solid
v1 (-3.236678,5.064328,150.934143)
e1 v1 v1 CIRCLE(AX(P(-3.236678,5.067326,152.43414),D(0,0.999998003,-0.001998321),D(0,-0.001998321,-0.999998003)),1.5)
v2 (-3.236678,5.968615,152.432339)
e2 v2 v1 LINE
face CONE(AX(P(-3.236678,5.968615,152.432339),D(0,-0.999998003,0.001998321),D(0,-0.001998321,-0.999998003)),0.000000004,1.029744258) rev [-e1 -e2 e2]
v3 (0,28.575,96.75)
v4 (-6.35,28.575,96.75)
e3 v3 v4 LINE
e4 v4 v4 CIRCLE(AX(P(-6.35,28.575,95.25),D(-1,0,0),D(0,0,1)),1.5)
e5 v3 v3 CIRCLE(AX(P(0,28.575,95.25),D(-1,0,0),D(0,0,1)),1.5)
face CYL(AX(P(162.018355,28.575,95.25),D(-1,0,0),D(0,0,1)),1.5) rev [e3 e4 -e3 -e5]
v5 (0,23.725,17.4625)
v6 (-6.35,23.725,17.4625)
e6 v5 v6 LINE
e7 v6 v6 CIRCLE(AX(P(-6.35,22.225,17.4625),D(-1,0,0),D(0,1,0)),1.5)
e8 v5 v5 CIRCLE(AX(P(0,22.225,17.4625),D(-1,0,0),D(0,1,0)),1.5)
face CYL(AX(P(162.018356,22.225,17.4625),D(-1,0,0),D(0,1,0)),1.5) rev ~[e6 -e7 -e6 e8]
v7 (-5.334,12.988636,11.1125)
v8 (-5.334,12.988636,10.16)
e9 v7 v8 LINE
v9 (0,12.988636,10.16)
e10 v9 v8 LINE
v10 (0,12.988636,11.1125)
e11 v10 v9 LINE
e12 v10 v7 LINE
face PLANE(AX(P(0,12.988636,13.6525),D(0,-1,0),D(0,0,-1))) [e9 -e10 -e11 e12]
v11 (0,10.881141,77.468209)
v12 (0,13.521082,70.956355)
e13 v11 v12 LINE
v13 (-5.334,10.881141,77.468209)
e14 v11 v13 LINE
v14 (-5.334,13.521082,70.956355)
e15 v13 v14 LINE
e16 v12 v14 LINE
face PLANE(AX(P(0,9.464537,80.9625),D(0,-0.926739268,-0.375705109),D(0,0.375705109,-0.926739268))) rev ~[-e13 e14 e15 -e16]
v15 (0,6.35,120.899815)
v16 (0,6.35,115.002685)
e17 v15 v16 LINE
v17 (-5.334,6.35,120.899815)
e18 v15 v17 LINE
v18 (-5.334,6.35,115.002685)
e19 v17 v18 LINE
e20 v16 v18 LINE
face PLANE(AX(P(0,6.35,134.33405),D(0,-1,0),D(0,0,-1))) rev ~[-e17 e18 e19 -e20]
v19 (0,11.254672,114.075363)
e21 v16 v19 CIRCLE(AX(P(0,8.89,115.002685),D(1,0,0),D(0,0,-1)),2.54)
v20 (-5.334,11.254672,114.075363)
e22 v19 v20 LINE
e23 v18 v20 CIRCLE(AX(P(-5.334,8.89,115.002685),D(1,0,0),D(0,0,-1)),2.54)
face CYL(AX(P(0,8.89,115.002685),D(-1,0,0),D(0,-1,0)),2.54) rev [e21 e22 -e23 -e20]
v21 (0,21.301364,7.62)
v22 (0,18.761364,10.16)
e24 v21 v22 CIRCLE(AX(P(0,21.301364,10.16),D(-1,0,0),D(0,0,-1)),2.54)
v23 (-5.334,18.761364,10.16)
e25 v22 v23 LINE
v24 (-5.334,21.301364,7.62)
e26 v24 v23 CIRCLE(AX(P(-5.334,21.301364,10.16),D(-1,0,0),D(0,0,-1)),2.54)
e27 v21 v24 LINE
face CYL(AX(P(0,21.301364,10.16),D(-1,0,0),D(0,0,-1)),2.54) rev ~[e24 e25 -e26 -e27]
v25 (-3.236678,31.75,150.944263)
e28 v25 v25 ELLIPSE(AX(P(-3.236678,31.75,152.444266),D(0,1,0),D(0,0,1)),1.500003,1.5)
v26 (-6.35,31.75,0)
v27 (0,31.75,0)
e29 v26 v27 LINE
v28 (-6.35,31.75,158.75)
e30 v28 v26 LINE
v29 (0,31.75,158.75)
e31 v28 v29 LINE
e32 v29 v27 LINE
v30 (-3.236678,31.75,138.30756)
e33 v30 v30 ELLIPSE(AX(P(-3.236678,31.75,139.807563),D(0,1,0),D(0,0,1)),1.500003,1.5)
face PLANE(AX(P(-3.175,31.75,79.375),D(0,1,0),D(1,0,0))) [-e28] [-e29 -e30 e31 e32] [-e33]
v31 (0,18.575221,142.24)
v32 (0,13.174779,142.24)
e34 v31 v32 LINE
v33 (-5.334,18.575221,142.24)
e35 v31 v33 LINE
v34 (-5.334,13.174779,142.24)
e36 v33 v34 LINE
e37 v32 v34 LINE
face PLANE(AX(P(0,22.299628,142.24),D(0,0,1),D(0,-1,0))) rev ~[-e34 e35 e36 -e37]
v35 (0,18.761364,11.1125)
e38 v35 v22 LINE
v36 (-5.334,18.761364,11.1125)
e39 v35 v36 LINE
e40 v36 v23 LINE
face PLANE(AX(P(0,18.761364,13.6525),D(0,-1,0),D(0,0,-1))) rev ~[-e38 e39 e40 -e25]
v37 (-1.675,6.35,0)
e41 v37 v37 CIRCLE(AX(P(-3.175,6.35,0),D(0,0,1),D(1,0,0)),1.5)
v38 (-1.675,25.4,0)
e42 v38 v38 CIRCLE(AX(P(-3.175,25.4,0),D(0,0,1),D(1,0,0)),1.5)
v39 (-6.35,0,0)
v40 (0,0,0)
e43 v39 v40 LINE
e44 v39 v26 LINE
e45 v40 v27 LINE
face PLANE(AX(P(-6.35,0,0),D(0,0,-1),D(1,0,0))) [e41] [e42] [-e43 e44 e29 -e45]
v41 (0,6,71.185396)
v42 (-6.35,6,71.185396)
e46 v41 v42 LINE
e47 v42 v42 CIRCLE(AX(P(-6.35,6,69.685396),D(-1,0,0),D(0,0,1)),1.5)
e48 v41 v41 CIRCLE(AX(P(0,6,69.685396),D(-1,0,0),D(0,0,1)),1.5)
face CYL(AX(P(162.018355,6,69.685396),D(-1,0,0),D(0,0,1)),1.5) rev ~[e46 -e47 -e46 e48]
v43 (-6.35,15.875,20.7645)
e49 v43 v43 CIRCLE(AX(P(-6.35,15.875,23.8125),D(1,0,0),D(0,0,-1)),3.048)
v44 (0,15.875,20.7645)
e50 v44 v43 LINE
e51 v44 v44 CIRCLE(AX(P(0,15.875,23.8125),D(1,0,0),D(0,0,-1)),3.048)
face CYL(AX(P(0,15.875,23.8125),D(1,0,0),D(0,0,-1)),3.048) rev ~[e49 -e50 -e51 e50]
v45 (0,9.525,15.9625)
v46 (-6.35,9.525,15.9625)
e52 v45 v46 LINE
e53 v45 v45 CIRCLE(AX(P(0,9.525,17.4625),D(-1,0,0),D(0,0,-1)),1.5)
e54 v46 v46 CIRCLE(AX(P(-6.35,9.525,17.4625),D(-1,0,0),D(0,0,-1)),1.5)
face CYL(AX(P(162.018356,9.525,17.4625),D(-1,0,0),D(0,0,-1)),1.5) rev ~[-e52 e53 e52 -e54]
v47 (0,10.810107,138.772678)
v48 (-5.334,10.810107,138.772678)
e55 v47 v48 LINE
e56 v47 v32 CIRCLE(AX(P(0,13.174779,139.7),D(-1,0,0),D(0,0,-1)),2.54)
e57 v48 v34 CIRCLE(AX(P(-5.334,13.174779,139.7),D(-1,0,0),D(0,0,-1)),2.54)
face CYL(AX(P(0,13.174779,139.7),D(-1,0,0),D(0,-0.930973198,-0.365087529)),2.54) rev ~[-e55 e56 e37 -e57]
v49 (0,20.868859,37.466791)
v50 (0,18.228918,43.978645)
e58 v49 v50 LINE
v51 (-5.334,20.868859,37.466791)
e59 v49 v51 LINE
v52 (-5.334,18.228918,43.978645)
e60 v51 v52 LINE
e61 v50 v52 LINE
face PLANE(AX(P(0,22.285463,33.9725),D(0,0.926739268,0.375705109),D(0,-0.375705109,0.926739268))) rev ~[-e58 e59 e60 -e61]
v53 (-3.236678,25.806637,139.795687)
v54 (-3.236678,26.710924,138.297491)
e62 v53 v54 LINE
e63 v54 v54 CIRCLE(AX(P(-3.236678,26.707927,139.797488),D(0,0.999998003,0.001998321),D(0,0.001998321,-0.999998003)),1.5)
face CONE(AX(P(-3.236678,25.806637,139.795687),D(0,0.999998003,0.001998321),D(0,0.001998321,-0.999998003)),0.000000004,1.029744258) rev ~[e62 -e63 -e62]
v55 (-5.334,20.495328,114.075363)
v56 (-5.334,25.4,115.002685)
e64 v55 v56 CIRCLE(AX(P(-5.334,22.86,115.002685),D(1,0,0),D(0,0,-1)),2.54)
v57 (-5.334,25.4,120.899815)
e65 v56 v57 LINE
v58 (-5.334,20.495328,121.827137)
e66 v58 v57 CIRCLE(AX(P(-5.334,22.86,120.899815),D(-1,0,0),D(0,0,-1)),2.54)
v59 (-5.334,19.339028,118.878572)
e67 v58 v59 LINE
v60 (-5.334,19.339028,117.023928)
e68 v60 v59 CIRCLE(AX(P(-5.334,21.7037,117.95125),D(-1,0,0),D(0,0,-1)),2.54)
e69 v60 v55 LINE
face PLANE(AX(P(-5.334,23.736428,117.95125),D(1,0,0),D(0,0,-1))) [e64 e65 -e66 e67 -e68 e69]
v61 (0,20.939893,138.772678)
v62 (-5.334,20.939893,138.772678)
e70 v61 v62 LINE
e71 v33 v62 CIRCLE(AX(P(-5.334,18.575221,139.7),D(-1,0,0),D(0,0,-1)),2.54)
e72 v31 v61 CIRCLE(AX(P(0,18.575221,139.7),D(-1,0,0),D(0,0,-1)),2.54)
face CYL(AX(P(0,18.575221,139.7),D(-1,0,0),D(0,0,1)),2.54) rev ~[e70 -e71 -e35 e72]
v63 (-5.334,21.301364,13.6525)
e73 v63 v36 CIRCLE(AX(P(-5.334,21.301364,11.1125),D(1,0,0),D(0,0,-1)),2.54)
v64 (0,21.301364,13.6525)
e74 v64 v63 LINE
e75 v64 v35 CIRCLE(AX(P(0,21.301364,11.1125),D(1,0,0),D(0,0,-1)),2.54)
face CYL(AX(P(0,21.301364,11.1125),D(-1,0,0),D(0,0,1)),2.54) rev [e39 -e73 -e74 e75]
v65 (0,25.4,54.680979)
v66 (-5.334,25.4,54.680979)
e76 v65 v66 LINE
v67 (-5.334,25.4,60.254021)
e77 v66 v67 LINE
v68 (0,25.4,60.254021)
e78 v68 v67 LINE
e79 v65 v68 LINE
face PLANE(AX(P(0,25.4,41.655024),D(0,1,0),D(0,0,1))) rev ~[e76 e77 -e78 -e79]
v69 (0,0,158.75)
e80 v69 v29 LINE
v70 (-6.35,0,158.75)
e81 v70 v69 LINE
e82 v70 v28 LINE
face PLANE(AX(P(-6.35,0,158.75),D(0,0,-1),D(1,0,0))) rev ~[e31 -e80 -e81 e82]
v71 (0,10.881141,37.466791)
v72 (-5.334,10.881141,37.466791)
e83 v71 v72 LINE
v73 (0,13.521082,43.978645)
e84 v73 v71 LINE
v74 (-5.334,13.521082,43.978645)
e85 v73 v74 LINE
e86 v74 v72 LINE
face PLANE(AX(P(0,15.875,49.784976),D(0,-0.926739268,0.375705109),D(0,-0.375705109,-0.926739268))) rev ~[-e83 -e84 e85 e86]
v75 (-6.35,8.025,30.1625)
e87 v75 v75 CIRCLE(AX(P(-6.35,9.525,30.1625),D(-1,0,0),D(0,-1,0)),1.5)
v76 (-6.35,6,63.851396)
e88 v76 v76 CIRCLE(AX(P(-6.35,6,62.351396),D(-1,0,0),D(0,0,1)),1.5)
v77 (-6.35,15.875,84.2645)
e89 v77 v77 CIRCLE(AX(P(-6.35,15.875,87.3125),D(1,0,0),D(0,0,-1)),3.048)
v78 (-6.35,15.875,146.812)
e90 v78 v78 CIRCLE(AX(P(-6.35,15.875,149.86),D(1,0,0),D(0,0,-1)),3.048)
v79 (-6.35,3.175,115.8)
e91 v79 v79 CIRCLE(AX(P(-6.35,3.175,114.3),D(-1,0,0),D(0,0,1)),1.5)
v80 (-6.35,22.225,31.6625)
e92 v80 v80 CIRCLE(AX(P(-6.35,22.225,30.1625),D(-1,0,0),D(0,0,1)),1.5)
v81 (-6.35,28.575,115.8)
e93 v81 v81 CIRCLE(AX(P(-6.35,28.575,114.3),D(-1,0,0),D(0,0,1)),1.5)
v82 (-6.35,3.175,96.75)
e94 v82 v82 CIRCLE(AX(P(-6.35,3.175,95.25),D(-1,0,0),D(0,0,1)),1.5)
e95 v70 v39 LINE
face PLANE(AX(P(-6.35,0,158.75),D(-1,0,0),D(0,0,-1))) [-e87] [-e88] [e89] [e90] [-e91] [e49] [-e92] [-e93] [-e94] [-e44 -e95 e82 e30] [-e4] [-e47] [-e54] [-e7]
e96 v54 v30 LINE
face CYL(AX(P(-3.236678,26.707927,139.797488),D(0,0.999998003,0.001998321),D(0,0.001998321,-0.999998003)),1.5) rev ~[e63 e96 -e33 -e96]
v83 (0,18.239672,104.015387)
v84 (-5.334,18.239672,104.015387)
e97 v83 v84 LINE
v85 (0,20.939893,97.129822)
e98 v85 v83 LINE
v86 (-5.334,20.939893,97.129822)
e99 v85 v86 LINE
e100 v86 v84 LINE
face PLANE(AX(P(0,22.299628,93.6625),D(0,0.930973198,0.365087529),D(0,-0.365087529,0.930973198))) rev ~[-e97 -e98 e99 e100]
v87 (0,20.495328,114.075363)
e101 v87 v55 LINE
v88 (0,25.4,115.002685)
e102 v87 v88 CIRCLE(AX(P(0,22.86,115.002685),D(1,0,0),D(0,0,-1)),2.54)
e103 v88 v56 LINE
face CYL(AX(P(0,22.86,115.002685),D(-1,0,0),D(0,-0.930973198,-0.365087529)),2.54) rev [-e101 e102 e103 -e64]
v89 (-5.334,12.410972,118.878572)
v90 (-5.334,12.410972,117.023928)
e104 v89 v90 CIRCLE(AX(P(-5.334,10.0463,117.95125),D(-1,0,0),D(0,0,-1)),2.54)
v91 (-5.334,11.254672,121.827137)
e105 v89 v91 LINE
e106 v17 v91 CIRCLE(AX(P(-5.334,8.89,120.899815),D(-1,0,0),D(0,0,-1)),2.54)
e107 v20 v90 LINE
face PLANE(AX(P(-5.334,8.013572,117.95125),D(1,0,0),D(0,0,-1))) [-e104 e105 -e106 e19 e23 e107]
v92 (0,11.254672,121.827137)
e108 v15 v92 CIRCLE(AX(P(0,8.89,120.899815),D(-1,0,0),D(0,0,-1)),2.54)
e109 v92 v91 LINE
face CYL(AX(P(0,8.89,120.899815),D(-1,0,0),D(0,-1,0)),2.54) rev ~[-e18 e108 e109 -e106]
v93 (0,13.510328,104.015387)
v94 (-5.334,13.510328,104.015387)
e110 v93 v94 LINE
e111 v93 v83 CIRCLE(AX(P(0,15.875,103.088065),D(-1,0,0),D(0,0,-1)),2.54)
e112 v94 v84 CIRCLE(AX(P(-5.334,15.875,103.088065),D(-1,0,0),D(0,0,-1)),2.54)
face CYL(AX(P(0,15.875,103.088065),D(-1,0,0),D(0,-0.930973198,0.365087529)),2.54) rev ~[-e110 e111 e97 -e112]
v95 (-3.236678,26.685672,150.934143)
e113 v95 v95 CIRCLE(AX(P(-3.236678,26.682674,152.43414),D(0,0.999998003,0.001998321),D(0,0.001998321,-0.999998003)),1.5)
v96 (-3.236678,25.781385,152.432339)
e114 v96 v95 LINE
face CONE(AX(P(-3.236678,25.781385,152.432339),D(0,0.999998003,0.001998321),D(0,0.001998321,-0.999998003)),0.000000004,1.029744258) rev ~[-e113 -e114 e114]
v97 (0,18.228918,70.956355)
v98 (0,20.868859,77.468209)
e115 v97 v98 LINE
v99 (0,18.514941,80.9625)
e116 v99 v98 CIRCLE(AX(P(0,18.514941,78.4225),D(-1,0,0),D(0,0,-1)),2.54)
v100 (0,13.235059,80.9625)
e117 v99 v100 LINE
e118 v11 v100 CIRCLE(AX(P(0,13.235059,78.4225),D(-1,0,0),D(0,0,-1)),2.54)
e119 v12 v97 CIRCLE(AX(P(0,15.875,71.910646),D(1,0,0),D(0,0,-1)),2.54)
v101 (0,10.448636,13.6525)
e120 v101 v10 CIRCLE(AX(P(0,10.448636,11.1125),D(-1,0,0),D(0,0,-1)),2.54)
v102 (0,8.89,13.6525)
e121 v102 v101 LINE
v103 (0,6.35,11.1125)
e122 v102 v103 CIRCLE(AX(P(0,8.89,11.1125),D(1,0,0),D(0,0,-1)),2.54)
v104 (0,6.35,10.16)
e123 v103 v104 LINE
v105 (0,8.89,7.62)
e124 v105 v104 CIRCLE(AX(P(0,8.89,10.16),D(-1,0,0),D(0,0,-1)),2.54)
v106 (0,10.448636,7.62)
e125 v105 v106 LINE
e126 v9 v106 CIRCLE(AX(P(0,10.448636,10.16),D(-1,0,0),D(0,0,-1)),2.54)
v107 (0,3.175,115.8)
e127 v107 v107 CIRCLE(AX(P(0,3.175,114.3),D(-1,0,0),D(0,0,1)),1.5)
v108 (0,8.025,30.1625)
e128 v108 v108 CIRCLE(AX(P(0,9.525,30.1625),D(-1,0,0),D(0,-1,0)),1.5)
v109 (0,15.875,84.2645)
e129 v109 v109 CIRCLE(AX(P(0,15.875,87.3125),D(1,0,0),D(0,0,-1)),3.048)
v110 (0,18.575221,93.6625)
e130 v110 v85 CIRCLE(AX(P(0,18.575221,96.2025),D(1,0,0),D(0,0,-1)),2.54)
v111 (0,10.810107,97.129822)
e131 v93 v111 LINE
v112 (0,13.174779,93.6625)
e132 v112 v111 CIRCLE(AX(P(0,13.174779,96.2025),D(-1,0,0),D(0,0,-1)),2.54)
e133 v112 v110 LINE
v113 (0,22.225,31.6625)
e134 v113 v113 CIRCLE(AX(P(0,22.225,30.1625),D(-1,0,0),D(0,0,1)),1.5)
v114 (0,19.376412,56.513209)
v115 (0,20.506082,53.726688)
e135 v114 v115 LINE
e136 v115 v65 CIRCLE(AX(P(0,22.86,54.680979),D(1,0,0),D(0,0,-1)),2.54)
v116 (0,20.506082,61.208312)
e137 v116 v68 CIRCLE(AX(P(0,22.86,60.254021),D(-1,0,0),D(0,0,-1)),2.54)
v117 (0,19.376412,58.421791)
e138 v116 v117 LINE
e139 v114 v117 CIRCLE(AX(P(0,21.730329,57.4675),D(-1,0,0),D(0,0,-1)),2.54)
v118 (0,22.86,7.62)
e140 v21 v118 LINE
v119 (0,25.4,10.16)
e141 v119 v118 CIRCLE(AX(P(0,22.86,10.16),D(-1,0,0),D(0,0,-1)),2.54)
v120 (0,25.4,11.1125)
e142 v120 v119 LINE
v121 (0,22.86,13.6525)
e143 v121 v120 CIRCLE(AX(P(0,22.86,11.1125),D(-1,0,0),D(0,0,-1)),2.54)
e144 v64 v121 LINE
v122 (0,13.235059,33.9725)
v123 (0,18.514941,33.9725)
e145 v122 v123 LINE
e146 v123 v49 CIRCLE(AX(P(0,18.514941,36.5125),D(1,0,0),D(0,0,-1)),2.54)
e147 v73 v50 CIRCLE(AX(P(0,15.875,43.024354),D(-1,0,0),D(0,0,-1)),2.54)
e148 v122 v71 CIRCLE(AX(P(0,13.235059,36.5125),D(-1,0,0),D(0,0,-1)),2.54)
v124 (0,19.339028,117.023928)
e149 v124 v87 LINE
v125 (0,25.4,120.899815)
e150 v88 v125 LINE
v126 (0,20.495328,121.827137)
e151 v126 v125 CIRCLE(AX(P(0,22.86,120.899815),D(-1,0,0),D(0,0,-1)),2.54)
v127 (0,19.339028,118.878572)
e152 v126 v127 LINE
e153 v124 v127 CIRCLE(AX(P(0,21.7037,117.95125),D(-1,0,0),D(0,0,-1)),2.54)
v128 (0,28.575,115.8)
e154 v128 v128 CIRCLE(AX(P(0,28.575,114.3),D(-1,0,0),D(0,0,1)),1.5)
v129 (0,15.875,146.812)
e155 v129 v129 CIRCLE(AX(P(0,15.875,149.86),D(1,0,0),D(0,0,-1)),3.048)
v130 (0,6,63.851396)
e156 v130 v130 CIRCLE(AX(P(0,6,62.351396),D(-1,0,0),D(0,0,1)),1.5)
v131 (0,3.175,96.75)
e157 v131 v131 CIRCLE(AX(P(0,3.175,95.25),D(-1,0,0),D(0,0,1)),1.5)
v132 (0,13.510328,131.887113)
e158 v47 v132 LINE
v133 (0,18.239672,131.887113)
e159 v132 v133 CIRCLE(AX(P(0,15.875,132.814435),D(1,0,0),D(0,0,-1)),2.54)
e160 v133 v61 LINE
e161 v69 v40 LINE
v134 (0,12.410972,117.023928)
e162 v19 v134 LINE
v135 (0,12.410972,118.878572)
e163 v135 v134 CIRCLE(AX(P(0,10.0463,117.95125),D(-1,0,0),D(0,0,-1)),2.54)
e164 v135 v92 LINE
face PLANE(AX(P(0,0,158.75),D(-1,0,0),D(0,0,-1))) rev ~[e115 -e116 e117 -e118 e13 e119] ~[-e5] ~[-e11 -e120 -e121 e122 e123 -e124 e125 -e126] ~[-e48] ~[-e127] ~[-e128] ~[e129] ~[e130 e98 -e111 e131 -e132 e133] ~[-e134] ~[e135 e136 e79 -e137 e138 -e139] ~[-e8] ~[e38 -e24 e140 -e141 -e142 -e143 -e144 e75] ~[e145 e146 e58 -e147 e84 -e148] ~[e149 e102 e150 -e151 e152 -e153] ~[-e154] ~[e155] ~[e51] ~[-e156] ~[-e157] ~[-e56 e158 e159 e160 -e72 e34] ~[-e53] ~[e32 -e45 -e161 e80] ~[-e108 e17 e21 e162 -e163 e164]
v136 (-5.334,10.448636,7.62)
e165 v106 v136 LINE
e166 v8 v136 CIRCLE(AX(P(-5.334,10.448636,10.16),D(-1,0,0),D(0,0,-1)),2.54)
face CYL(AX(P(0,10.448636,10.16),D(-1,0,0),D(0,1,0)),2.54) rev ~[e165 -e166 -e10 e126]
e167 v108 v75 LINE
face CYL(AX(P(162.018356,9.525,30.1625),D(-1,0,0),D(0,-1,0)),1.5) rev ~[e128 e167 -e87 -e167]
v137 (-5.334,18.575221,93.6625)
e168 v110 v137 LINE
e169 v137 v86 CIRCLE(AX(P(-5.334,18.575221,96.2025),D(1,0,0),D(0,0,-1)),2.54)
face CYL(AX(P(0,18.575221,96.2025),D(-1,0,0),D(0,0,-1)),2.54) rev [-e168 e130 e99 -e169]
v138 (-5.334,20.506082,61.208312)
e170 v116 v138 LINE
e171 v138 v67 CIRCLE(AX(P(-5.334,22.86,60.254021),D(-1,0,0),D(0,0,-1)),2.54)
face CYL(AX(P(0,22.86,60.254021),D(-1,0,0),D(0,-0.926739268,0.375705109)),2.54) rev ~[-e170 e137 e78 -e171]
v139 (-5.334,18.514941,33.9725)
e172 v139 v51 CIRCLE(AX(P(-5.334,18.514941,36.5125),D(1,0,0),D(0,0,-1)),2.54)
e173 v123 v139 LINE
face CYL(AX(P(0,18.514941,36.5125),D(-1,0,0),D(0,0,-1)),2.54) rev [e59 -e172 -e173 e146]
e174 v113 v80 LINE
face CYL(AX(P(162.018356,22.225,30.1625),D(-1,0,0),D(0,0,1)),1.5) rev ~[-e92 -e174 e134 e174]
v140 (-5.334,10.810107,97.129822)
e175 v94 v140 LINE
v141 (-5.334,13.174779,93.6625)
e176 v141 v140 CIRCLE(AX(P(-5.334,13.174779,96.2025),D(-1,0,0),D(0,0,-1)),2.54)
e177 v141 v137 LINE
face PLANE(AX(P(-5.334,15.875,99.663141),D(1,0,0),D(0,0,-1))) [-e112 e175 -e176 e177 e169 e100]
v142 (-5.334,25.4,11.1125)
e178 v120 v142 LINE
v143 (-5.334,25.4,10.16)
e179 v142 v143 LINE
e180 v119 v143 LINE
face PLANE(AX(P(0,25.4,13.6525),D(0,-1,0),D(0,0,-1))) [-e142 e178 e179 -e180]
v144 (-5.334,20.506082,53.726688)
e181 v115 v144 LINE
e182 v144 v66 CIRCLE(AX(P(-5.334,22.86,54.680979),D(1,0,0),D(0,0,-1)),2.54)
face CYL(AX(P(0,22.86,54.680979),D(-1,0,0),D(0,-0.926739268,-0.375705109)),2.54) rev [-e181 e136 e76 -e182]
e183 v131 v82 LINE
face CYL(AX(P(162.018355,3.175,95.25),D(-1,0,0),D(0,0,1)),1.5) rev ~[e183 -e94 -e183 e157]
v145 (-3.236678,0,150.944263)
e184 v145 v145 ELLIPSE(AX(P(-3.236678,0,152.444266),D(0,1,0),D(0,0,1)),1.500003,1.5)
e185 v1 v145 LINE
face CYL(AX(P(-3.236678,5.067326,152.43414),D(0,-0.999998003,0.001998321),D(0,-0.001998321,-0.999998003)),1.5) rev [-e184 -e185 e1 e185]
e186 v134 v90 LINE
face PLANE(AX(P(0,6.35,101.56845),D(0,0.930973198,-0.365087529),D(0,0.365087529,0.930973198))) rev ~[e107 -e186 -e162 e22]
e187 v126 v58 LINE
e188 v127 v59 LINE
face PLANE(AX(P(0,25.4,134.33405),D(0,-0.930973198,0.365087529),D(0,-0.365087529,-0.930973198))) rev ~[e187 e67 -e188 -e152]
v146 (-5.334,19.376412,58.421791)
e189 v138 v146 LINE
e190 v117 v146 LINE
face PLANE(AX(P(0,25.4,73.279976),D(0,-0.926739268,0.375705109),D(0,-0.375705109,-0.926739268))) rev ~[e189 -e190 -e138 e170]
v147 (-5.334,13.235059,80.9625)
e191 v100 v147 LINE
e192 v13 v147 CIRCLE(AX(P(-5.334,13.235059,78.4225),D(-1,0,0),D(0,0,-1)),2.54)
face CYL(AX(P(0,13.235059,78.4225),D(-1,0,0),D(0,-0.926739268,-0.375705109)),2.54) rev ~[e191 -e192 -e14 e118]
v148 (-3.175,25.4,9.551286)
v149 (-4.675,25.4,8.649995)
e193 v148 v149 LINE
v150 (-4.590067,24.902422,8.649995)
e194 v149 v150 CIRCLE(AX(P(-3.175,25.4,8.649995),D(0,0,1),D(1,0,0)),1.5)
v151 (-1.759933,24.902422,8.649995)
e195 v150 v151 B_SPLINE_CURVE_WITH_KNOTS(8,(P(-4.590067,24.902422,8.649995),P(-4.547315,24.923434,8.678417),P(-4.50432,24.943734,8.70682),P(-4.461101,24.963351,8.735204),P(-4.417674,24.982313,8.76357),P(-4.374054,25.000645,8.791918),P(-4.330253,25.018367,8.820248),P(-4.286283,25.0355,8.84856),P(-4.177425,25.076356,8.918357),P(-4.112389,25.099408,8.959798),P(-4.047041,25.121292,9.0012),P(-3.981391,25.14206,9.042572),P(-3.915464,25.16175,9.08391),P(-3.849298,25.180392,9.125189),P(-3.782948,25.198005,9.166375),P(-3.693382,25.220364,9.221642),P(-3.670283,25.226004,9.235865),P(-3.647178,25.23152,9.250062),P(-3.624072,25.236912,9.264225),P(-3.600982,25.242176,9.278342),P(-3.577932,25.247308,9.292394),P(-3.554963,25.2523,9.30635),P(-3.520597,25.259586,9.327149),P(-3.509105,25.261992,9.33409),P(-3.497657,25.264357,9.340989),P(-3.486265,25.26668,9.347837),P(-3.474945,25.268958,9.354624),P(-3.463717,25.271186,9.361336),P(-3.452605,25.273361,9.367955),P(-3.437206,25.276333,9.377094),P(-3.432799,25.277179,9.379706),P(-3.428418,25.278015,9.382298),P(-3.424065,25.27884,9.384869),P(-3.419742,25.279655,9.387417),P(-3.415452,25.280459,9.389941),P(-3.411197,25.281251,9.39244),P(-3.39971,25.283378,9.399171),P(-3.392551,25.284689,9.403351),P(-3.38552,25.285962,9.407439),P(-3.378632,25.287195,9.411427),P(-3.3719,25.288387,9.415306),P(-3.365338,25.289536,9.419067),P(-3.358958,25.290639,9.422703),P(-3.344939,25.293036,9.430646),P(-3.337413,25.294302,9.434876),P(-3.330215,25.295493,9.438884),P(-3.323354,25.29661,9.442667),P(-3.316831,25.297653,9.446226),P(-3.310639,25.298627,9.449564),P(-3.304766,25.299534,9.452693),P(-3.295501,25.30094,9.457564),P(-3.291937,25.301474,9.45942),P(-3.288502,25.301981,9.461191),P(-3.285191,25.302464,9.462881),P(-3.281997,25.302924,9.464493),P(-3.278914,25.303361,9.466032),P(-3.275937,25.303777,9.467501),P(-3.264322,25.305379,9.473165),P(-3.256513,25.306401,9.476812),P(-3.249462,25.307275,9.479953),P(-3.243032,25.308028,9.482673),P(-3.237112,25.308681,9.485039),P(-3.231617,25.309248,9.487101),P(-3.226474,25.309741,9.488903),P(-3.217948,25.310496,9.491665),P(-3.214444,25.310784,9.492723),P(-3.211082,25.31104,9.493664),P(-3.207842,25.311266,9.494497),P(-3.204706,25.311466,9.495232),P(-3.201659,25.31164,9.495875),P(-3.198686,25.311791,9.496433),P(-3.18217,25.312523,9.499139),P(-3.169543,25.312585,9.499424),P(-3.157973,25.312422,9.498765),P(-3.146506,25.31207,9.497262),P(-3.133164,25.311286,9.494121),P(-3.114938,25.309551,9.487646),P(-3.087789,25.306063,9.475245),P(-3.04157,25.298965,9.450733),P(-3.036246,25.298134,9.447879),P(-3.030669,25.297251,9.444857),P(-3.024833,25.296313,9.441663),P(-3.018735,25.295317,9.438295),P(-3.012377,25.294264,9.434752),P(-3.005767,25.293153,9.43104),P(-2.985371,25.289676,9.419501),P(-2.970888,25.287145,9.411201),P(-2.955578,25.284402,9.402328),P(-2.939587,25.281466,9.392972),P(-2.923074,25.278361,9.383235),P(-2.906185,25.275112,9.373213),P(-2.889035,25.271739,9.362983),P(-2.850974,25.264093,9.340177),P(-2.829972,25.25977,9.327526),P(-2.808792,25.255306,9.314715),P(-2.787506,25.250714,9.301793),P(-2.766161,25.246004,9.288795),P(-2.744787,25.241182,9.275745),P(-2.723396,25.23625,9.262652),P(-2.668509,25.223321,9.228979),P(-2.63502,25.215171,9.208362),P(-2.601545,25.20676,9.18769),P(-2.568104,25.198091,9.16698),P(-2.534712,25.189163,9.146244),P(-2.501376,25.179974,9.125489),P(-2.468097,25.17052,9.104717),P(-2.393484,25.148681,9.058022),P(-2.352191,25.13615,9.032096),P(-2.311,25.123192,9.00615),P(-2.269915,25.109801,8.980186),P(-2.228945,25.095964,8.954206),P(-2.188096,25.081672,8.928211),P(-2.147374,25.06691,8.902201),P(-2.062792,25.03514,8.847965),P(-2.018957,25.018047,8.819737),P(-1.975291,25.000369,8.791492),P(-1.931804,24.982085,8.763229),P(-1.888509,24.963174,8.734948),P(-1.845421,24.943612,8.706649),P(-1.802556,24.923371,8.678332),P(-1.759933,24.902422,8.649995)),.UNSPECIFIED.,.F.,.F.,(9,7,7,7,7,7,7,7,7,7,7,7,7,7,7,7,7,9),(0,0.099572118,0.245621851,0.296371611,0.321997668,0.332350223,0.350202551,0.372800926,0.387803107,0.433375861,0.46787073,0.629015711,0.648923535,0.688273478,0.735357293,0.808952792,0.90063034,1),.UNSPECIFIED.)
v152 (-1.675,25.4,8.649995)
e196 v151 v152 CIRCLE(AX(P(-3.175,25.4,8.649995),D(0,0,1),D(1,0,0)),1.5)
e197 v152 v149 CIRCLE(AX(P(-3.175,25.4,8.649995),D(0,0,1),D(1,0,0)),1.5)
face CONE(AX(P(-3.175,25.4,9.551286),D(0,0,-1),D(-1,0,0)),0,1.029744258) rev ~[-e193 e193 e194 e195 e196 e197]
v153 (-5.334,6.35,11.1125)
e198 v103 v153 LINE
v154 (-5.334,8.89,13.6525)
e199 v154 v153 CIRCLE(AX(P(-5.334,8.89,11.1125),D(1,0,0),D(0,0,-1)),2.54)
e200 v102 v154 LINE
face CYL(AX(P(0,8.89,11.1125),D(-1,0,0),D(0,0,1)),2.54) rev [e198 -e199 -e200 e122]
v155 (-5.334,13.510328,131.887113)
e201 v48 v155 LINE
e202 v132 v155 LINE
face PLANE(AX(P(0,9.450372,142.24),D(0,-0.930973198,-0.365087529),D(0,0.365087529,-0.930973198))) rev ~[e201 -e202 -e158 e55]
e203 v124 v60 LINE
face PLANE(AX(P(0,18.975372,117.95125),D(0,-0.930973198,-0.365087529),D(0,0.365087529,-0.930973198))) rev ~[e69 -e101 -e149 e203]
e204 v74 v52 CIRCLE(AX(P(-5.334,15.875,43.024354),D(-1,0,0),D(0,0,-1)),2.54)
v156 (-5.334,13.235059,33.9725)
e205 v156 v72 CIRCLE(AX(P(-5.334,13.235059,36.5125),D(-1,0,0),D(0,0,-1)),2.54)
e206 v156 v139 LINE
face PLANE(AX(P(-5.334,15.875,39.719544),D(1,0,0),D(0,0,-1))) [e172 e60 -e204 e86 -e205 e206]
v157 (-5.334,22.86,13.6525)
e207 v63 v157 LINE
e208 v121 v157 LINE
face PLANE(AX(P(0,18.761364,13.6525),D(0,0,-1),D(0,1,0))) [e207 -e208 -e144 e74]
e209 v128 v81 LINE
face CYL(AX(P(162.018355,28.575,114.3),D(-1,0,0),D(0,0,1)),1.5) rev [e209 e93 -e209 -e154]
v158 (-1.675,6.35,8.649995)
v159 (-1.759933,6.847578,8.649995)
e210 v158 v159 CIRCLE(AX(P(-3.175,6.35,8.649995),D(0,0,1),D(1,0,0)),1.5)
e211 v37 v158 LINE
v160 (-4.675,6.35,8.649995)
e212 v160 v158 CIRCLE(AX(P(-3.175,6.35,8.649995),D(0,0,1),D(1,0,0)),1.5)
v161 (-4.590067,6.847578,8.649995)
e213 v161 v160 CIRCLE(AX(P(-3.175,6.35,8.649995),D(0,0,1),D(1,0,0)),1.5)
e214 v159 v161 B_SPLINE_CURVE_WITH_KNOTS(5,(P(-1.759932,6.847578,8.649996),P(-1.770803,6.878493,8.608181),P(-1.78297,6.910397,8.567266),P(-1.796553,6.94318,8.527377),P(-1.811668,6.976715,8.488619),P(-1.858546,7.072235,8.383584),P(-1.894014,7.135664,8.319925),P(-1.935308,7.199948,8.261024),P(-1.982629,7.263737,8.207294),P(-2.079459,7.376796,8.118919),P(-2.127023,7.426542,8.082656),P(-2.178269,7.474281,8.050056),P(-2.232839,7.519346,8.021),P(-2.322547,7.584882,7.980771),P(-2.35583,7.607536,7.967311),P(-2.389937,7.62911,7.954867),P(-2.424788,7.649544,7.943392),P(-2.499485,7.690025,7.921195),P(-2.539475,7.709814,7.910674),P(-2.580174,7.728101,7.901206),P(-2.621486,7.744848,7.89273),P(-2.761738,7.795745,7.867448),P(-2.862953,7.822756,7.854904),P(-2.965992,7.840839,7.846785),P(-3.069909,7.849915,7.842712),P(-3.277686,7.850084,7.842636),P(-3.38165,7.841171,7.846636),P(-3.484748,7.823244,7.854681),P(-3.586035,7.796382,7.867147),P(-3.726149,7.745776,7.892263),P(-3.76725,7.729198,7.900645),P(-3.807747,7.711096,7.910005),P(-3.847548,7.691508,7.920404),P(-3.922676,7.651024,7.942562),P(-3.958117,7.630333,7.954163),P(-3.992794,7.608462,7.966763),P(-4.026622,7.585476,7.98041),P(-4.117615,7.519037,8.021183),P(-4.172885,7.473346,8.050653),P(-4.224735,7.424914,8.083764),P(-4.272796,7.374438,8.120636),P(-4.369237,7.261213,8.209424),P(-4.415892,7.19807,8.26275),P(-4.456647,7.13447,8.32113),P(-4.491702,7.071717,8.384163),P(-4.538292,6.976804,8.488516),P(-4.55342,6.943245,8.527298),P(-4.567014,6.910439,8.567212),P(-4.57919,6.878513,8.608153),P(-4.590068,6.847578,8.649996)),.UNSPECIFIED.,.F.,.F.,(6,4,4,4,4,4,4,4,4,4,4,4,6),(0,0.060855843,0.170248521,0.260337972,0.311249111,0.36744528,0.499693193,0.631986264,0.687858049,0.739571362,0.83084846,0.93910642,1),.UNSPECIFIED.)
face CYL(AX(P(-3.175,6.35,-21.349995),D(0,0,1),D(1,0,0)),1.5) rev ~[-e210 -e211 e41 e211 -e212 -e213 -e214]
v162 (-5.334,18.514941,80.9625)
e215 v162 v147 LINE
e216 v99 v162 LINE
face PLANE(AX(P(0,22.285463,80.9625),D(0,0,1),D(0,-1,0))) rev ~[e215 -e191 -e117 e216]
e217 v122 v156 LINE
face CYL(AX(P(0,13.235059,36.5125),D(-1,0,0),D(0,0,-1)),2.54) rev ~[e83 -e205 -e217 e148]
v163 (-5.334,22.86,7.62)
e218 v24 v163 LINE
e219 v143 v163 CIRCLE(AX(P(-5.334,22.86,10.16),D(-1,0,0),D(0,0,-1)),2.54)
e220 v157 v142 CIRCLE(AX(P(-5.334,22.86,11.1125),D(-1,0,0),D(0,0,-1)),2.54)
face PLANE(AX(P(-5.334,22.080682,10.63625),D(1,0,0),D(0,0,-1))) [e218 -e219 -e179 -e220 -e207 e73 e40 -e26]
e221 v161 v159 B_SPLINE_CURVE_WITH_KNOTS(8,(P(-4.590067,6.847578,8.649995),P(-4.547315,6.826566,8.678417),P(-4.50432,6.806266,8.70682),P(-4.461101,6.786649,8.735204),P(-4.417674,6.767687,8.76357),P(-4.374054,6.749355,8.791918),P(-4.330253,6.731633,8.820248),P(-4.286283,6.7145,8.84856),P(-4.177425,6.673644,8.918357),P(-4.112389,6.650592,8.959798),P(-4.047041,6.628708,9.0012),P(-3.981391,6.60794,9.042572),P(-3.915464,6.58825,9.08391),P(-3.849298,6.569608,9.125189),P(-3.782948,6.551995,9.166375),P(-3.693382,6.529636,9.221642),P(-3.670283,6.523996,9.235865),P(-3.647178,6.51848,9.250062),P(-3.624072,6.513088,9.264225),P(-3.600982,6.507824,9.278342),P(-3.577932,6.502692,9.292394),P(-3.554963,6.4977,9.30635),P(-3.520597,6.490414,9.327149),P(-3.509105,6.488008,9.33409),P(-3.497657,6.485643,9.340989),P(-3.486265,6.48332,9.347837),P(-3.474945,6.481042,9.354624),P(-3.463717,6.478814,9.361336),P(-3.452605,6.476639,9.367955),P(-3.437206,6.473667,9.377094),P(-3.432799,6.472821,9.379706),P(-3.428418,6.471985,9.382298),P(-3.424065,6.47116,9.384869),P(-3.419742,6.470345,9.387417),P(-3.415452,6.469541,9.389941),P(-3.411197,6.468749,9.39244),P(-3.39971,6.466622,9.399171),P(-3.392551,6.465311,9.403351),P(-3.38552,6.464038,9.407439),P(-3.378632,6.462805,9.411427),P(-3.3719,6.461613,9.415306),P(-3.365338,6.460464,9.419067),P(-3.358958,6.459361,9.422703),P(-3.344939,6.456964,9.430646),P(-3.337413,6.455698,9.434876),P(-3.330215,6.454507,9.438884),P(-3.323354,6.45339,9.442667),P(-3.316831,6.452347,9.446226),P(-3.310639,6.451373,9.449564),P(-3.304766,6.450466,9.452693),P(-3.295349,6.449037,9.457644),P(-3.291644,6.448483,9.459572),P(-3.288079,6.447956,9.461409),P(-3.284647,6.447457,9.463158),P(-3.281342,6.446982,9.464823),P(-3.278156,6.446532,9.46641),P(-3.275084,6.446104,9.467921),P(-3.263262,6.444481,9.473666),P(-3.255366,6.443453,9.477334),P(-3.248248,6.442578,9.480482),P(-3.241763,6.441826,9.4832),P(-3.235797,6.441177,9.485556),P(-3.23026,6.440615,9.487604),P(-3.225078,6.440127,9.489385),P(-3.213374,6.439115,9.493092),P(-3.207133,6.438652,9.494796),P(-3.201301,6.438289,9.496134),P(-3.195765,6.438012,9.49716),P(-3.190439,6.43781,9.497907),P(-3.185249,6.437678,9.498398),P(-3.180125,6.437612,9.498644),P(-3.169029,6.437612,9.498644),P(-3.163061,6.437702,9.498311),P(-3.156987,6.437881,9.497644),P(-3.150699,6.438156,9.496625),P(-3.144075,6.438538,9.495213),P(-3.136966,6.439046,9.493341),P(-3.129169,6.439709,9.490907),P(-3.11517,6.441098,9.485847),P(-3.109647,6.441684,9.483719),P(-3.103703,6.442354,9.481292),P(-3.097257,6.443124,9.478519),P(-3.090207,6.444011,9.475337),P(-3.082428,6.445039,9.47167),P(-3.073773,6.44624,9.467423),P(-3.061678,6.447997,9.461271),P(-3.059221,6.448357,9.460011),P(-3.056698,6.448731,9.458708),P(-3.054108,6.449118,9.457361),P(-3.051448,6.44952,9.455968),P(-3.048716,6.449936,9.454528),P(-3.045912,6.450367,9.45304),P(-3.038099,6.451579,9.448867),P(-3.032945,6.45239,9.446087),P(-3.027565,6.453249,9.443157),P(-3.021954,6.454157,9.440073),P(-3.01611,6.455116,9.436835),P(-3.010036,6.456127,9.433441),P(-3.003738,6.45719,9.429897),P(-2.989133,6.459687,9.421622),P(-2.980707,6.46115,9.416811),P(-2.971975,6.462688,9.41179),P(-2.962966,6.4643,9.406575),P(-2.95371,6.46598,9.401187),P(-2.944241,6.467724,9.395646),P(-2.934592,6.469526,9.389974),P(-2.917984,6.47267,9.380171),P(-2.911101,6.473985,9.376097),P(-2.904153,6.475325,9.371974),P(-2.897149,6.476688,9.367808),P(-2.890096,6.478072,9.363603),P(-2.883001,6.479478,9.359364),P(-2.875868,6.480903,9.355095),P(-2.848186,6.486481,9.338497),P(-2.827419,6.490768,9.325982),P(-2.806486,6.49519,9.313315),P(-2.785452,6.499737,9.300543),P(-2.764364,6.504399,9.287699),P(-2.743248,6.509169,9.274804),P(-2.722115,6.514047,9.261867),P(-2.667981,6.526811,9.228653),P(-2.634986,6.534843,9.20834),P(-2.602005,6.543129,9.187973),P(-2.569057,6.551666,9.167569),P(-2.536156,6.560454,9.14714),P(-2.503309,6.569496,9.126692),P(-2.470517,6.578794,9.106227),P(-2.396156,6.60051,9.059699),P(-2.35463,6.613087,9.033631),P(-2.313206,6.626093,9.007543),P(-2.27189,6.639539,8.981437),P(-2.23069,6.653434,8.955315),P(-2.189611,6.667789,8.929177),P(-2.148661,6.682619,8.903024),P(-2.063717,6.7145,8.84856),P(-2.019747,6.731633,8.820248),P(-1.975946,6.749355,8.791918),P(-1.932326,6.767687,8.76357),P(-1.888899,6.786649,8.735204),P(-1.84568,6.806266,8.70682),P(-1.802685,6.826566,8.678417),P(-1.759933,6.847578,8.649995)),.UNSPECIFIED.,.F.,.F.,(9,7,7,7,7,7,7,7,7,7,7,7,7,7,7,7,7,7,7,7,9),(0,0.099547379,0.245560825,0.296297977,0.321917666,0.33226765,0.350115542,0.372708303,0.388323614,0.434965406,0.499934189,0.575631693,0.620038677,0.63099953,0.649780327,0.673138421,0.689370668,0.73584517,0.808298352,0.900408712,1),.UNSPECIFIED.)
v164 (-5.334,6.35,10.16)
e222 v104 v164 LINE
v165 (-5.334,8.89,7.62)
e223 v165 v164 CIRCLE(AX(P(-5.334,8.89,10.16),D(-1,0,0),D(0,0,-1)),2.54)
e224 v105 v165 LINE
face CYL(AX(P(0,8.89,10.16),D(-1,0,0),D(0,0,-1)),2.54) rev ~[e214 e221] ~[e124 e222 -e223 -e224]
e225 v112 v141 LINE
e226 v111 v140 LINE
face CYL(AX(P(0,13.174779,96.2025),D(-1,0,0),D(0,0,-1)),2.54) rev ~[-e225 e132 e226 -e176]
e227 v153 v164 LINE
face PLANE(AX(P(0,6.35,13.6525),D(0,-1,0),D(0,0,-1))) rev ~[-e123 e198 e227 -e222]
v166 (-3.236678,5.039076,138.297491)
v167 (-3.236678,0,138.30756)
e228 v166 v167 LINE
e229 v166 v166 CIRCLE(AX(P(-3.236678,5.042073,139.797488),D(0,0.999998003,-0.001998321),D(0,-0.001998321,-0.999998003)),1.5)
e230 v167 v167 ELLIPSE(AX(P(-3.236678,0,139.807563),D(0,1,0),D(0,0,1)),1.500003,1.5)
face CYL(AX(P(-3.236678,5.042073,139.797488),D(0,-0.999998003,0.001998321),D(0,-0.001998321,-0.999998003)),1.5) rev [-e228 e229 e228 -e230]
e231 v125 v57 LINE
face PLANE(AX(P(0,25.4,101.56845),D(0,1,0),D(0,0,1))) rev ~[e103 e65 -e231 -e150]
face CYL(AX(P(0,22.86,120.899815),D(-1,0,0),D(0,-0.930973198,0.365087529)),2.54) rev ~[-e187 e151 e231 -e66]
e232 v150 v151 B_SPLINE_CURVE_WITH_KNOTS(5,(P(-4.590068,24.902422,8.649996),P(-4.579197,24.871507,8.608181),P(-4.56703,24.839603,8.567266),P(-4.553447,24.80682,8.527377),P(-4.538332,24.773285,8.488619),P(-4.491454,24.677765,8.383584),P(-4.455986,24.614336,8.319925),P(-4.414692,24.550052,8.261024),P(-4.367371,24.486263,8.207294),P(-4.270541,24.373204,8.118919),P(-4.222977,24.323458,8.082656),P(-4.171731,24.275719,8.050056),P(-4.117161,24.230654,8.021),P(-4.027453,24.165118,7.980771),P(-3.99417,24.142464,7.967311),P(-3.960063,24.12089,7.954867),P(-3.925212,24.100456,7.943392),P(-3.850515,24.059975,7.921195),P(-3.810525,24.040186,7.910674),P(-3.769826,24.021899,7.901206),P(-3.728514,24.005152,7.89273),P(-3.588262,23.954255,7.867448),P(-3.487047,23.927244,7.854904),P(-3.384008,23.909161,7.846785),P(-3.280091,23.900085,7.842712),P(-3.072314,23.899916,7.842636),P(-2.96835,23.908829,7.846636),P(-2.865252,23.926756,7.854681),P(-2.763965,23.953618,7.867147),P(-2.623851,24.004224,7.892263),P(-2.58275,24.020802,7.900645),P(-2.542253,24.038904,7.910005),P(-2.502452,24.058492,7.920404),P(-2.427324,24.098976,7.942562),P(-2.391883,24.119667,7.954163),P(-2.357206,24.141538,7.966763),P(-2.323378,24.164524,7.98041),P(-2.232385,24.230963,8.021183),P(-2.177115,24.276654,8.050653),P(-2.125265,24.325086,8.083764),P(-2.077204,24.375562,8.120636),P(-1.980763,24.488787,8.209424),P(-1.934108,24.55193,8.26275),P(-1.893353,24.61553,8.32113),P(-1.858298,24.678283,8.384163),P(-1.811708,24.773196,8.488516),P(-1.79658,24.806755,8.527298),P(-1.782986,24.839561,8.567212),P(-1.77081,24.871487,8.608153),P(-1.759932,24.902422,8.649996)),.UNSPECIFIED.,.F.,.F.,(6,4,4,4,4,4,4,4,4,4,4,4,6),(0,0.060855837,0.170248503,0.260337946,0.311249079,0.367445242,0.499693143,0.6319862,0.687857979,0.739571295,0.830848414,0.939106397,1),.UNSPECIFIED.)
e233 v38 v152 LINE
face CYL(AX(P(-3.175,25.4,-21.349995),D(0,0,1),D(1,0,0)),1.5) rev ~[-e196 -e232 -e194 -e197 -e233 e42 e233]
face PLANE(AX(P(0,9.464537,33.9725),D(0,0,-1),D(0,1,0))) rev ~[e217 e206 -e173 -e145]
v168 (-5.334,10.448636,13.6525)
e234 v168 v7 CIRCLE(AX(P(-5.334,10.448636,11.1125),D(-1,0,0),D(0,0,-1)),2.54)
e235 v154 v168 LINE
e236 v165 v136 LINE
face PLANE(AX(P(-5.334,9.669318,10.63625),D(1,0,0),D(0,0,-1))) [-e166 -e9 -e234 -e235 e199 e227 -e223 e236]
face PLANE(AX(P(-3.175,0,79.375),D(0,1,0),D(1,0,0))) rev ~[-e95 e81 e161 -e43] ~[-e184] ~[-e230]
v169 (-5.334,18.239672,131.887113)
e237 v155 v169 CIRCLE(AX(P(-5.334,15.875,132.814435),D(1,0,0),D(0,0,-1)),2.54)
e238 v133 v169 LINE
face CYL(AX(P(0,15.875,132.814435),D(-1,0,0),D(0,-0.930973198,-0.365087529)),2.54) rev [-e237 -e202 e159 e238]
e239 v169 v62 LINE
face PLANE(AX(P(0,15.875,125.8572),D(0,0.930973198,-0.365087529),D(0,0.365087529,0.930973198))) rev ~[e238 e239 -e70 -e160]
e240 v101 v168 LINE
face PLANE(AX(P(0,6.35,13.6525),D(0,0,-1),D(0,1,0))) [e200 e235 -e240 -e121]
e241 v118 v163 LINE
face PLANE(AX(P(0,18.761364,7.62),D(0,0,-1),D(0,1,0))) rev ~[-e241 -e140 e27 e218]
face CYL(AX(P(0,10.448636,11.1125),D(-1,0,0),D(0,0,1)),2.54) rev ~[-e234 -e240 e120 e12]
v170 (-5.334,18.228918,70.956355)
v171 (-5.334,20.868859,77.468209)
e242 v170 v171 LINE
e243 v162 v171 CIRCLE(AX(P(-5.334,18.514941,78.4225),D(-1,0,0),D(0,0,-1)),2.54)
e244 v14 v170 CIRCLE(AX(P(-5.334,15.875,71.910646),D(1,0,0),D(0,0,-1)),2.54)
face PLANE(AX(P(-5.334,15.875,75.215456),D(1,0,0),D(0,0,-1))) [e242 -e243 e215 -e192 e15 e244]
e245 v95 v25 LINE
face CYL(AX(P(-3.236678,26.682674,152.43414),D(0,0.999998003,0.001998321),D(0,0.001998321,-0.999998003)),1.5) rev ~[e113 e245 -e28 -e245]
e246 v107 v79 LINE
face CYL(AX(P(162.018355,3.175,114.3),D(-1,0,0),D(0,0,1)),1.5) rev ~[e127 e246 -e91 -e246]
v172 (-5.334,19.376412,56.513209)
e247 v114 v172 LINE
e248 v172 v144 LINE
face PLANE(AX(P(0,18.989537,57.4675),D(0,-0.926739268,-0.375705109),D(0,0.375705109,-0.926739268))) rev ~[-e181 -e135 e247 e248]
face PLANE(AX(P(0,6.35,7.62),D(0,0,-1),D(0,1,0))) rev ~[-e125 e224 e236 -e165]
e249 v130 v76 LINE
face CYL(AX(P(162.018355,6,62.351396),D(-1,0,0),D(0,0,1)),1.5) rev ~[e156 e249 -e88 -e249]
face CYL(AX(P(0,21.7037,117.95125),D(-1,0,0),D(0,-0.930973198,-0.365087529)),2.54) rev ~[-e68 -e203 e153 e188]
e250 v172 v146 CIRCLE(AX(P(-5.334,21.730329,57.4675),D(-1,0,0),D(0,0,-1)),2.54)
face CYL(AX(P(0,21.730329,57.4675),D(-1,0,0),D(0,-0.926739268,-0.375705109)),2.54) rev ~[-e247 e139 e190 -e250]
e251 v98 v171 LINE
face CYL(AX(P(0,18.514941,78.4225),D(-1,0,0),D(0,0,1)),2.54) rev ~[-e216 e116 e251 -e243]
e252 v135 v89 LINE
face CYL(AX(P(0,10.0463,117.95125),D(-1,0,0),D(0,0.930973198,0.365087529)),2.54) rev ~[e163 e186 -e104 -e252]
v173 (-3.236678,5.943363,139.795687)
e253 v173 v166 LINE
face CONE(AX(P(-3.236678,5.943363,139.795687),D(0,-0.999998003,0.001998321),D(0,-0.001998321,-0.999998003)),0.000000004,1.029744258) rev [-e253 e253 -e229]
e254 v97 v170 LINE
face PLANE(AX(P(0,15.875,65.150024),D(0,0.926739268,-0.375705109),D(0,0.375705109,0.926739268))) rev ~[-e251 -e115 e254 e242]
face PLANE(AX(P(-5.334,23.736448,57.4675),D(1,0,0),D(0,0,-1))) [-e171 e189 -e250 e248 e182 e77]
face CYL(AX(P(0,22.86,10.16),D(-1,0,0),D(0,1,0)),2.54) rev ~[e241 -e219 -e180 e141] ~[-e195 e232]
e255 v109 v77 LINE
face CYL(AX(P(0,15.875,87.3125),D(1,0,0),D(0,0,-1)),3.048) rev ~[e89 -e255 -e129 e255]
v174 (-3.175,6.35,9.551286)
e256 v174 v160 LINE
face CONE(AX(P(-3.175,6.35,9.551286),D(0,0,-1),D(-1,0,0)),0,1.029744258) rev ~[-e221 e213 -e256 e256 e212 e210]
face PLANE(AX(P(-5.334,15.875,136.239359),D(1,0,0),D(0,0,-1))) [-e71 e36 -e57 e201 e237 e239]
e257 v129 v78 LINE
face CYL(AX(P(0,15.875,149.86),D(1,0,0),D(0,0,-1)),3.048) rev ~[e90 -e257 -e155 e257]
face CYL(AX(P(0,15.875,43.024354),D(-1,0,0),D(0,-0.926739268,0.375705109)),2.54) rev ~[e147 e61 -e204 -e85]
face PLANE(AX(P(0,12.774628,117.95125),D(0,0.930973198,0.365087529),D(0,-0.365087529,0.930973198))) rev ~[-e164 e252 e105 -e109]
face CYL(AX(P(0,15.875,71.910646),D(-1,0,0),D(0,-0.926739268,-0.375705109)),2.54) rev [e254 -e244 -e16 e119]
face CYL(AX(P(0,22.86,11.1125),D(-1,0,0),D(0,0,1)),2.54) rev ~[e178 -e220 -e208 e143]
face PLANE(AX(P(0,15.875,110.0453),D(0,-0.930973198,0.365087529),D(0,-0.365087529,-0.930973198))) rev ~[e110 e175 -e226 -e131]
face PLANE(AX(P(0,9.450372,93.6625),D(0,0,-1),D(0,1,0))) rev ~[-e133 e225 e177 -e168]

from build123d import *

# Parameters (mm, degrees)
SKETCH1_W                   = 6.35
SKETCH1_H                   = 158.75
BOSS_EXTRUDE1_DEPTH         = 31.75
SKETCH2_R                   = 3.048
AXLE_HOLES_DEPTH            = 7.35
F_3_0MM_DOWEL_HOLE2_D       = 3
SKETCH4_W                   = 6.0325
SKETCH4_H                   = 6.638636364
CHEESING_CUT_DEPTH          = 5.334
FILLET1_R                   = 2.54
F_3_0MM_DOWEL_HOLE1_D       = 3
M3X0_5_TAPPED_HOLE3_D       = 3
M3X0_5_TAPPED_HOLE3_DEPTH   = 14.9999954
M3X0_5_TAPPED_HOLE3_TIP     = 0.901290929
HOLE_WIZARD_7903_AT_2_COUNT = 2
HOLE_WIZARD_7903_AT_2_PITCH = 12.636677574
F_3_0MM_DOWEL_HOLE4_D       = 3
CIRPATTERN1_COUNT           = 4


with BuildPart() as part:
    # Sketch1 → Boss-Extrude1 (new body)
    with BuildSketch(Plane(origin=(0, 0, 0), x_dir=(1, 0, 0), z_dir=(0, 1, 0))):
        with Locations((-3.175, -79.375)):
            Rectangle(SKETCH1_W, SKETCH1_H)
    extrude(amount=BOSS_EXTRUDE1_DEPTH)

    # Sketch2 → axle holes (cut, through all)
    with BuildSketch(Plane(origin=(0, 0, 0), x_dir=(0, 0, -1), z_dir=(1, 0, 0))):
        with Locations((-23.8125, 15.875)):
            Circle(SKETCH2_R)
        with Locations((-87.3125, 15.875)):
            Circle(SKETCH2_R)
        with Locations((-149.86, 15.875)):
            Circle(SKETCH2_R)
    extrude(amount=-AXLE_HOLES_DEPTH, mode=Mode.SUBTRACT)

    # Ø3.0mm Dowel Hole2 (through all)
    with Locations(Plane(origin=(0, 0, 0), x_dir=(0, 0, -1), z_dir=(1, 0, 0))):
        with Locations((-114.3, 3.175), (-95.25, 3.175)):
            f_3_0mm_dowel_hole2 = Hole(F_3_0MM_DOWEL_HOLE2_D / 2)

    # Sketch4 → cheesing cut (cut)
    with BuildSketch(Plane(origin=(0, 0, 0), x_dir=(0, 0, -1), z_dir=(1, 0, 0))):
        Polygon((-125.857199693, 15.875), (-142.24, 22.299627571), (-142.24, 9.450372429), align=None)
        Polygon((-101.568449693, 25.4), (-134.334050307, 25.4), (-117.95125, 18.975372429), align=None)
        Polygon((-93.6625, 22.299627571), (-110.045300307, 15.875), (-93.6625, 9.450372429), align=None)
        Polygon((-101.568449693, 6.35), (-117.95125, 12.774627571), (-134.334050307, 6.35), align=None)
        Polygon((-65.150024324, 15.875), (-80.9625, 22.285463112), (-80.9625, 9.464536888), align=None)
        Polygon((-41.655024324, 25.4), (-73.279975676, 25.4), (-57.4675, 18.989536888), align=None)
        Polygon((-33.9725, 22.285463112), (-49.784975676, 15.875), (-33.9725, 9.464536888), align=None)
        with Locations((-10.63625, 9.669318182)):
            Rectangle(SKETCH4_W, SKETCH4_H)
        with Locations((-10.63625, 22.080681818)):
            Rectangle(SKETCH4_W, SKETCH4_H)
    extrude(amount=-CHEESING_CUT_DEPTH, mode=Mode.SUBTRACT)

    # Fillet1
    fillet1_edges = [part.edges().sort_by_distance(p)[0] for p in [
        (-2.667, 22.285463112, 80.9625),
        (-2.667, 15.875, 65.150024324),
        (-2.667, 9.464536888, 80.9625),
        (-2.667, 12.774627571, 117.95125),
        (-2.667, 6.35, 101.568449693),
        (-2.667, 6.35, 134.334050307),
        (-2.667, 25.4, 134.334050307),
        (-2.667, 25.4, 101.568449693),
        (-2.667, 18.975372429, 117.95125),
        (-2.667, 22.299627571, 93.6625),
        (-2.667, 9.450372429, 93.6625),
        (-2.667, 15.875, 110.045300307),
        (-2.667, 15.875, 49.784975676),
        (-2.667, 22.285463112, 33.9725),
        (-2.667, 9.464536888, 33.9725),
        (-2.667, 25.4, 73.279975676),
        (-2.667, 25.4, 41.655024324),
        (-2.667, 18.989536888, 57.4675),
        (-2.667, 12.988636364, 13.6525),
        (-2.667, 12.988636364, 7.62),
        (-2.667, 6.35, 7.62),
        (-2.667, 6.35, 13.6525),
        (-2.667, 18.761363636, 13.6525),
        (-2.667, 25.4, 13.6525),
        (-2.667, 25.4, 7.62),
        (-2.667, 18.761363636, 7.62),
        (-2.667, 15.875, 125.857199693),
        (-2.667, 9.450372429, 142.24),
        (-2.667, 22.299627571, 142.24),
    ]]
    fillet(fillet1_edges, radius=FILLET1_R)

    # Mirror1: Ø3.0mm Dowel Hole2 across plane
    add(f_3_0mm_dowel_hole2.mirror(Plane.ZX.offset(15.875)), mode=Mode.SUBTRACT)

    # Ø3.0mm Dowel Hole1 (through all)
    with Locations(Plane(origin=(0, 0, 0), x_dir=(0, 0, -1), z_dir=(1, 0, 0))):
        with Locations((-69.685396292, 6), (-62.351396292, 6)):
            Hole(F_3_0MM_DOWEL_HOLE1_D / 2)

    # M3x0.5 Tapped Hole3
    with Locations(Plane(origin=(101.342838782, 5.251462055, -6.35), x_dir=(-1, 0, 0), z_dir=(0, 0, -1))):
        with Locations((104.517838782, 20.148537945), (104.517838782, 1.098537945)):
            Hole(M3X0_5_TAPPED_HOLE3_D / 2, depth=M3X0_5_TAPPED_HOLE3_DEPTH)
            with Locations((0, 0, -(M3X0_5_TAPPED_HOLE3_DEPTH + M3X0_5_TAPPED_HOLE3_TIP / 2))):  # 118° drill point
                Cone(0, M3X0_5_TAPPED_HOLE3_D / 2, M3X0_5_TAPPED_HOLE3_TIP, mode=Mode.SUBTRACT)

    # Sketch18 → Hole Wizard 7903 (revolve, cut)
    with BuildSketch(Plane(origin=(-3.236678341, -2.577911324, 139.812714896), x_dir=(0, -0.001998321, -0.999998003), z_dir=(1, 0, 0))):
        Polygon((0, 0), (0, 8.521290929), (1.5, 7.62), (1.5, 0), align=None)
    hole_wizard_7903 = revolve(axis=Axis((-3.236678341, -8.927898646, 139.825404238), (0, 0.999998003, -0.001998321)), mode=Mode.SUBTRACT)

    # Hole Wizard 7903 at 2: Hole Wizard 7903 ×2
    with Locations(*[Vector(0, 0.001998321, 0.999998003) * (i * HOLE_WIZARD_7903_AT_2_PITCH) for i in range(1, HOLE_WIZARD_7903_AT_2_COUNT)]):
        add(hole_wizard_7903, mode=Mode.SUBTRACT)

    # Mirror2: Hole Wizard 7903 across plane
    add(hole_wizard_7903.mirror(Plane.ZX.offset(15.875)), mode=Mode.SUBTRACT)

    # Mirror2 copy 1 sketch → Mirror2 copy 1 (revolve, cut)
    with BuildSketch(Plane(origin=(-3.236678341, 34.30265918, 152.449367239), x_dir=(0, 0.001998321, -0.999998003), z_dir=(1, 0, 0))):
        Polygon((0, 0), (0, -8.521290929), (1.5, -7.62), (1.5, 0), align=None)
    revolve(axis=Axis((-3.236678341, 40.652646501, 152.462056581), (0, 0.999998003, 0.001998321)), mode=Mode.SUBTRACT)

    # Ø3.0mm Dowel Hole4 (through all)
    with Locations(Plane(origin=(0, 0, 0), x_dir=(0, 0, -1), z_dir=(1, 0, 0))):
        with Locations((-30.1625, 22.225)):
            f_3_0mm_dowel_hole4 = Hole(F_3_0MM_DOWEL_HOLE4_D / 2)

    # CirPattern1: Ø3.0mm Dowel Hole4 ×4 about axis
    cirpattern1_axis = Axis((0, 15.875, 23.8125), (1, 0, 0))
    for i in range(1, CIRPATTERN1_COUNT):
        add(f_3_0mm_dowel_hole4.rotate(cirpattern1_axis, i * 360 / CIRPATTERN1_COUNT), mode=Mode.SUBTRACT)


solid = part.part
